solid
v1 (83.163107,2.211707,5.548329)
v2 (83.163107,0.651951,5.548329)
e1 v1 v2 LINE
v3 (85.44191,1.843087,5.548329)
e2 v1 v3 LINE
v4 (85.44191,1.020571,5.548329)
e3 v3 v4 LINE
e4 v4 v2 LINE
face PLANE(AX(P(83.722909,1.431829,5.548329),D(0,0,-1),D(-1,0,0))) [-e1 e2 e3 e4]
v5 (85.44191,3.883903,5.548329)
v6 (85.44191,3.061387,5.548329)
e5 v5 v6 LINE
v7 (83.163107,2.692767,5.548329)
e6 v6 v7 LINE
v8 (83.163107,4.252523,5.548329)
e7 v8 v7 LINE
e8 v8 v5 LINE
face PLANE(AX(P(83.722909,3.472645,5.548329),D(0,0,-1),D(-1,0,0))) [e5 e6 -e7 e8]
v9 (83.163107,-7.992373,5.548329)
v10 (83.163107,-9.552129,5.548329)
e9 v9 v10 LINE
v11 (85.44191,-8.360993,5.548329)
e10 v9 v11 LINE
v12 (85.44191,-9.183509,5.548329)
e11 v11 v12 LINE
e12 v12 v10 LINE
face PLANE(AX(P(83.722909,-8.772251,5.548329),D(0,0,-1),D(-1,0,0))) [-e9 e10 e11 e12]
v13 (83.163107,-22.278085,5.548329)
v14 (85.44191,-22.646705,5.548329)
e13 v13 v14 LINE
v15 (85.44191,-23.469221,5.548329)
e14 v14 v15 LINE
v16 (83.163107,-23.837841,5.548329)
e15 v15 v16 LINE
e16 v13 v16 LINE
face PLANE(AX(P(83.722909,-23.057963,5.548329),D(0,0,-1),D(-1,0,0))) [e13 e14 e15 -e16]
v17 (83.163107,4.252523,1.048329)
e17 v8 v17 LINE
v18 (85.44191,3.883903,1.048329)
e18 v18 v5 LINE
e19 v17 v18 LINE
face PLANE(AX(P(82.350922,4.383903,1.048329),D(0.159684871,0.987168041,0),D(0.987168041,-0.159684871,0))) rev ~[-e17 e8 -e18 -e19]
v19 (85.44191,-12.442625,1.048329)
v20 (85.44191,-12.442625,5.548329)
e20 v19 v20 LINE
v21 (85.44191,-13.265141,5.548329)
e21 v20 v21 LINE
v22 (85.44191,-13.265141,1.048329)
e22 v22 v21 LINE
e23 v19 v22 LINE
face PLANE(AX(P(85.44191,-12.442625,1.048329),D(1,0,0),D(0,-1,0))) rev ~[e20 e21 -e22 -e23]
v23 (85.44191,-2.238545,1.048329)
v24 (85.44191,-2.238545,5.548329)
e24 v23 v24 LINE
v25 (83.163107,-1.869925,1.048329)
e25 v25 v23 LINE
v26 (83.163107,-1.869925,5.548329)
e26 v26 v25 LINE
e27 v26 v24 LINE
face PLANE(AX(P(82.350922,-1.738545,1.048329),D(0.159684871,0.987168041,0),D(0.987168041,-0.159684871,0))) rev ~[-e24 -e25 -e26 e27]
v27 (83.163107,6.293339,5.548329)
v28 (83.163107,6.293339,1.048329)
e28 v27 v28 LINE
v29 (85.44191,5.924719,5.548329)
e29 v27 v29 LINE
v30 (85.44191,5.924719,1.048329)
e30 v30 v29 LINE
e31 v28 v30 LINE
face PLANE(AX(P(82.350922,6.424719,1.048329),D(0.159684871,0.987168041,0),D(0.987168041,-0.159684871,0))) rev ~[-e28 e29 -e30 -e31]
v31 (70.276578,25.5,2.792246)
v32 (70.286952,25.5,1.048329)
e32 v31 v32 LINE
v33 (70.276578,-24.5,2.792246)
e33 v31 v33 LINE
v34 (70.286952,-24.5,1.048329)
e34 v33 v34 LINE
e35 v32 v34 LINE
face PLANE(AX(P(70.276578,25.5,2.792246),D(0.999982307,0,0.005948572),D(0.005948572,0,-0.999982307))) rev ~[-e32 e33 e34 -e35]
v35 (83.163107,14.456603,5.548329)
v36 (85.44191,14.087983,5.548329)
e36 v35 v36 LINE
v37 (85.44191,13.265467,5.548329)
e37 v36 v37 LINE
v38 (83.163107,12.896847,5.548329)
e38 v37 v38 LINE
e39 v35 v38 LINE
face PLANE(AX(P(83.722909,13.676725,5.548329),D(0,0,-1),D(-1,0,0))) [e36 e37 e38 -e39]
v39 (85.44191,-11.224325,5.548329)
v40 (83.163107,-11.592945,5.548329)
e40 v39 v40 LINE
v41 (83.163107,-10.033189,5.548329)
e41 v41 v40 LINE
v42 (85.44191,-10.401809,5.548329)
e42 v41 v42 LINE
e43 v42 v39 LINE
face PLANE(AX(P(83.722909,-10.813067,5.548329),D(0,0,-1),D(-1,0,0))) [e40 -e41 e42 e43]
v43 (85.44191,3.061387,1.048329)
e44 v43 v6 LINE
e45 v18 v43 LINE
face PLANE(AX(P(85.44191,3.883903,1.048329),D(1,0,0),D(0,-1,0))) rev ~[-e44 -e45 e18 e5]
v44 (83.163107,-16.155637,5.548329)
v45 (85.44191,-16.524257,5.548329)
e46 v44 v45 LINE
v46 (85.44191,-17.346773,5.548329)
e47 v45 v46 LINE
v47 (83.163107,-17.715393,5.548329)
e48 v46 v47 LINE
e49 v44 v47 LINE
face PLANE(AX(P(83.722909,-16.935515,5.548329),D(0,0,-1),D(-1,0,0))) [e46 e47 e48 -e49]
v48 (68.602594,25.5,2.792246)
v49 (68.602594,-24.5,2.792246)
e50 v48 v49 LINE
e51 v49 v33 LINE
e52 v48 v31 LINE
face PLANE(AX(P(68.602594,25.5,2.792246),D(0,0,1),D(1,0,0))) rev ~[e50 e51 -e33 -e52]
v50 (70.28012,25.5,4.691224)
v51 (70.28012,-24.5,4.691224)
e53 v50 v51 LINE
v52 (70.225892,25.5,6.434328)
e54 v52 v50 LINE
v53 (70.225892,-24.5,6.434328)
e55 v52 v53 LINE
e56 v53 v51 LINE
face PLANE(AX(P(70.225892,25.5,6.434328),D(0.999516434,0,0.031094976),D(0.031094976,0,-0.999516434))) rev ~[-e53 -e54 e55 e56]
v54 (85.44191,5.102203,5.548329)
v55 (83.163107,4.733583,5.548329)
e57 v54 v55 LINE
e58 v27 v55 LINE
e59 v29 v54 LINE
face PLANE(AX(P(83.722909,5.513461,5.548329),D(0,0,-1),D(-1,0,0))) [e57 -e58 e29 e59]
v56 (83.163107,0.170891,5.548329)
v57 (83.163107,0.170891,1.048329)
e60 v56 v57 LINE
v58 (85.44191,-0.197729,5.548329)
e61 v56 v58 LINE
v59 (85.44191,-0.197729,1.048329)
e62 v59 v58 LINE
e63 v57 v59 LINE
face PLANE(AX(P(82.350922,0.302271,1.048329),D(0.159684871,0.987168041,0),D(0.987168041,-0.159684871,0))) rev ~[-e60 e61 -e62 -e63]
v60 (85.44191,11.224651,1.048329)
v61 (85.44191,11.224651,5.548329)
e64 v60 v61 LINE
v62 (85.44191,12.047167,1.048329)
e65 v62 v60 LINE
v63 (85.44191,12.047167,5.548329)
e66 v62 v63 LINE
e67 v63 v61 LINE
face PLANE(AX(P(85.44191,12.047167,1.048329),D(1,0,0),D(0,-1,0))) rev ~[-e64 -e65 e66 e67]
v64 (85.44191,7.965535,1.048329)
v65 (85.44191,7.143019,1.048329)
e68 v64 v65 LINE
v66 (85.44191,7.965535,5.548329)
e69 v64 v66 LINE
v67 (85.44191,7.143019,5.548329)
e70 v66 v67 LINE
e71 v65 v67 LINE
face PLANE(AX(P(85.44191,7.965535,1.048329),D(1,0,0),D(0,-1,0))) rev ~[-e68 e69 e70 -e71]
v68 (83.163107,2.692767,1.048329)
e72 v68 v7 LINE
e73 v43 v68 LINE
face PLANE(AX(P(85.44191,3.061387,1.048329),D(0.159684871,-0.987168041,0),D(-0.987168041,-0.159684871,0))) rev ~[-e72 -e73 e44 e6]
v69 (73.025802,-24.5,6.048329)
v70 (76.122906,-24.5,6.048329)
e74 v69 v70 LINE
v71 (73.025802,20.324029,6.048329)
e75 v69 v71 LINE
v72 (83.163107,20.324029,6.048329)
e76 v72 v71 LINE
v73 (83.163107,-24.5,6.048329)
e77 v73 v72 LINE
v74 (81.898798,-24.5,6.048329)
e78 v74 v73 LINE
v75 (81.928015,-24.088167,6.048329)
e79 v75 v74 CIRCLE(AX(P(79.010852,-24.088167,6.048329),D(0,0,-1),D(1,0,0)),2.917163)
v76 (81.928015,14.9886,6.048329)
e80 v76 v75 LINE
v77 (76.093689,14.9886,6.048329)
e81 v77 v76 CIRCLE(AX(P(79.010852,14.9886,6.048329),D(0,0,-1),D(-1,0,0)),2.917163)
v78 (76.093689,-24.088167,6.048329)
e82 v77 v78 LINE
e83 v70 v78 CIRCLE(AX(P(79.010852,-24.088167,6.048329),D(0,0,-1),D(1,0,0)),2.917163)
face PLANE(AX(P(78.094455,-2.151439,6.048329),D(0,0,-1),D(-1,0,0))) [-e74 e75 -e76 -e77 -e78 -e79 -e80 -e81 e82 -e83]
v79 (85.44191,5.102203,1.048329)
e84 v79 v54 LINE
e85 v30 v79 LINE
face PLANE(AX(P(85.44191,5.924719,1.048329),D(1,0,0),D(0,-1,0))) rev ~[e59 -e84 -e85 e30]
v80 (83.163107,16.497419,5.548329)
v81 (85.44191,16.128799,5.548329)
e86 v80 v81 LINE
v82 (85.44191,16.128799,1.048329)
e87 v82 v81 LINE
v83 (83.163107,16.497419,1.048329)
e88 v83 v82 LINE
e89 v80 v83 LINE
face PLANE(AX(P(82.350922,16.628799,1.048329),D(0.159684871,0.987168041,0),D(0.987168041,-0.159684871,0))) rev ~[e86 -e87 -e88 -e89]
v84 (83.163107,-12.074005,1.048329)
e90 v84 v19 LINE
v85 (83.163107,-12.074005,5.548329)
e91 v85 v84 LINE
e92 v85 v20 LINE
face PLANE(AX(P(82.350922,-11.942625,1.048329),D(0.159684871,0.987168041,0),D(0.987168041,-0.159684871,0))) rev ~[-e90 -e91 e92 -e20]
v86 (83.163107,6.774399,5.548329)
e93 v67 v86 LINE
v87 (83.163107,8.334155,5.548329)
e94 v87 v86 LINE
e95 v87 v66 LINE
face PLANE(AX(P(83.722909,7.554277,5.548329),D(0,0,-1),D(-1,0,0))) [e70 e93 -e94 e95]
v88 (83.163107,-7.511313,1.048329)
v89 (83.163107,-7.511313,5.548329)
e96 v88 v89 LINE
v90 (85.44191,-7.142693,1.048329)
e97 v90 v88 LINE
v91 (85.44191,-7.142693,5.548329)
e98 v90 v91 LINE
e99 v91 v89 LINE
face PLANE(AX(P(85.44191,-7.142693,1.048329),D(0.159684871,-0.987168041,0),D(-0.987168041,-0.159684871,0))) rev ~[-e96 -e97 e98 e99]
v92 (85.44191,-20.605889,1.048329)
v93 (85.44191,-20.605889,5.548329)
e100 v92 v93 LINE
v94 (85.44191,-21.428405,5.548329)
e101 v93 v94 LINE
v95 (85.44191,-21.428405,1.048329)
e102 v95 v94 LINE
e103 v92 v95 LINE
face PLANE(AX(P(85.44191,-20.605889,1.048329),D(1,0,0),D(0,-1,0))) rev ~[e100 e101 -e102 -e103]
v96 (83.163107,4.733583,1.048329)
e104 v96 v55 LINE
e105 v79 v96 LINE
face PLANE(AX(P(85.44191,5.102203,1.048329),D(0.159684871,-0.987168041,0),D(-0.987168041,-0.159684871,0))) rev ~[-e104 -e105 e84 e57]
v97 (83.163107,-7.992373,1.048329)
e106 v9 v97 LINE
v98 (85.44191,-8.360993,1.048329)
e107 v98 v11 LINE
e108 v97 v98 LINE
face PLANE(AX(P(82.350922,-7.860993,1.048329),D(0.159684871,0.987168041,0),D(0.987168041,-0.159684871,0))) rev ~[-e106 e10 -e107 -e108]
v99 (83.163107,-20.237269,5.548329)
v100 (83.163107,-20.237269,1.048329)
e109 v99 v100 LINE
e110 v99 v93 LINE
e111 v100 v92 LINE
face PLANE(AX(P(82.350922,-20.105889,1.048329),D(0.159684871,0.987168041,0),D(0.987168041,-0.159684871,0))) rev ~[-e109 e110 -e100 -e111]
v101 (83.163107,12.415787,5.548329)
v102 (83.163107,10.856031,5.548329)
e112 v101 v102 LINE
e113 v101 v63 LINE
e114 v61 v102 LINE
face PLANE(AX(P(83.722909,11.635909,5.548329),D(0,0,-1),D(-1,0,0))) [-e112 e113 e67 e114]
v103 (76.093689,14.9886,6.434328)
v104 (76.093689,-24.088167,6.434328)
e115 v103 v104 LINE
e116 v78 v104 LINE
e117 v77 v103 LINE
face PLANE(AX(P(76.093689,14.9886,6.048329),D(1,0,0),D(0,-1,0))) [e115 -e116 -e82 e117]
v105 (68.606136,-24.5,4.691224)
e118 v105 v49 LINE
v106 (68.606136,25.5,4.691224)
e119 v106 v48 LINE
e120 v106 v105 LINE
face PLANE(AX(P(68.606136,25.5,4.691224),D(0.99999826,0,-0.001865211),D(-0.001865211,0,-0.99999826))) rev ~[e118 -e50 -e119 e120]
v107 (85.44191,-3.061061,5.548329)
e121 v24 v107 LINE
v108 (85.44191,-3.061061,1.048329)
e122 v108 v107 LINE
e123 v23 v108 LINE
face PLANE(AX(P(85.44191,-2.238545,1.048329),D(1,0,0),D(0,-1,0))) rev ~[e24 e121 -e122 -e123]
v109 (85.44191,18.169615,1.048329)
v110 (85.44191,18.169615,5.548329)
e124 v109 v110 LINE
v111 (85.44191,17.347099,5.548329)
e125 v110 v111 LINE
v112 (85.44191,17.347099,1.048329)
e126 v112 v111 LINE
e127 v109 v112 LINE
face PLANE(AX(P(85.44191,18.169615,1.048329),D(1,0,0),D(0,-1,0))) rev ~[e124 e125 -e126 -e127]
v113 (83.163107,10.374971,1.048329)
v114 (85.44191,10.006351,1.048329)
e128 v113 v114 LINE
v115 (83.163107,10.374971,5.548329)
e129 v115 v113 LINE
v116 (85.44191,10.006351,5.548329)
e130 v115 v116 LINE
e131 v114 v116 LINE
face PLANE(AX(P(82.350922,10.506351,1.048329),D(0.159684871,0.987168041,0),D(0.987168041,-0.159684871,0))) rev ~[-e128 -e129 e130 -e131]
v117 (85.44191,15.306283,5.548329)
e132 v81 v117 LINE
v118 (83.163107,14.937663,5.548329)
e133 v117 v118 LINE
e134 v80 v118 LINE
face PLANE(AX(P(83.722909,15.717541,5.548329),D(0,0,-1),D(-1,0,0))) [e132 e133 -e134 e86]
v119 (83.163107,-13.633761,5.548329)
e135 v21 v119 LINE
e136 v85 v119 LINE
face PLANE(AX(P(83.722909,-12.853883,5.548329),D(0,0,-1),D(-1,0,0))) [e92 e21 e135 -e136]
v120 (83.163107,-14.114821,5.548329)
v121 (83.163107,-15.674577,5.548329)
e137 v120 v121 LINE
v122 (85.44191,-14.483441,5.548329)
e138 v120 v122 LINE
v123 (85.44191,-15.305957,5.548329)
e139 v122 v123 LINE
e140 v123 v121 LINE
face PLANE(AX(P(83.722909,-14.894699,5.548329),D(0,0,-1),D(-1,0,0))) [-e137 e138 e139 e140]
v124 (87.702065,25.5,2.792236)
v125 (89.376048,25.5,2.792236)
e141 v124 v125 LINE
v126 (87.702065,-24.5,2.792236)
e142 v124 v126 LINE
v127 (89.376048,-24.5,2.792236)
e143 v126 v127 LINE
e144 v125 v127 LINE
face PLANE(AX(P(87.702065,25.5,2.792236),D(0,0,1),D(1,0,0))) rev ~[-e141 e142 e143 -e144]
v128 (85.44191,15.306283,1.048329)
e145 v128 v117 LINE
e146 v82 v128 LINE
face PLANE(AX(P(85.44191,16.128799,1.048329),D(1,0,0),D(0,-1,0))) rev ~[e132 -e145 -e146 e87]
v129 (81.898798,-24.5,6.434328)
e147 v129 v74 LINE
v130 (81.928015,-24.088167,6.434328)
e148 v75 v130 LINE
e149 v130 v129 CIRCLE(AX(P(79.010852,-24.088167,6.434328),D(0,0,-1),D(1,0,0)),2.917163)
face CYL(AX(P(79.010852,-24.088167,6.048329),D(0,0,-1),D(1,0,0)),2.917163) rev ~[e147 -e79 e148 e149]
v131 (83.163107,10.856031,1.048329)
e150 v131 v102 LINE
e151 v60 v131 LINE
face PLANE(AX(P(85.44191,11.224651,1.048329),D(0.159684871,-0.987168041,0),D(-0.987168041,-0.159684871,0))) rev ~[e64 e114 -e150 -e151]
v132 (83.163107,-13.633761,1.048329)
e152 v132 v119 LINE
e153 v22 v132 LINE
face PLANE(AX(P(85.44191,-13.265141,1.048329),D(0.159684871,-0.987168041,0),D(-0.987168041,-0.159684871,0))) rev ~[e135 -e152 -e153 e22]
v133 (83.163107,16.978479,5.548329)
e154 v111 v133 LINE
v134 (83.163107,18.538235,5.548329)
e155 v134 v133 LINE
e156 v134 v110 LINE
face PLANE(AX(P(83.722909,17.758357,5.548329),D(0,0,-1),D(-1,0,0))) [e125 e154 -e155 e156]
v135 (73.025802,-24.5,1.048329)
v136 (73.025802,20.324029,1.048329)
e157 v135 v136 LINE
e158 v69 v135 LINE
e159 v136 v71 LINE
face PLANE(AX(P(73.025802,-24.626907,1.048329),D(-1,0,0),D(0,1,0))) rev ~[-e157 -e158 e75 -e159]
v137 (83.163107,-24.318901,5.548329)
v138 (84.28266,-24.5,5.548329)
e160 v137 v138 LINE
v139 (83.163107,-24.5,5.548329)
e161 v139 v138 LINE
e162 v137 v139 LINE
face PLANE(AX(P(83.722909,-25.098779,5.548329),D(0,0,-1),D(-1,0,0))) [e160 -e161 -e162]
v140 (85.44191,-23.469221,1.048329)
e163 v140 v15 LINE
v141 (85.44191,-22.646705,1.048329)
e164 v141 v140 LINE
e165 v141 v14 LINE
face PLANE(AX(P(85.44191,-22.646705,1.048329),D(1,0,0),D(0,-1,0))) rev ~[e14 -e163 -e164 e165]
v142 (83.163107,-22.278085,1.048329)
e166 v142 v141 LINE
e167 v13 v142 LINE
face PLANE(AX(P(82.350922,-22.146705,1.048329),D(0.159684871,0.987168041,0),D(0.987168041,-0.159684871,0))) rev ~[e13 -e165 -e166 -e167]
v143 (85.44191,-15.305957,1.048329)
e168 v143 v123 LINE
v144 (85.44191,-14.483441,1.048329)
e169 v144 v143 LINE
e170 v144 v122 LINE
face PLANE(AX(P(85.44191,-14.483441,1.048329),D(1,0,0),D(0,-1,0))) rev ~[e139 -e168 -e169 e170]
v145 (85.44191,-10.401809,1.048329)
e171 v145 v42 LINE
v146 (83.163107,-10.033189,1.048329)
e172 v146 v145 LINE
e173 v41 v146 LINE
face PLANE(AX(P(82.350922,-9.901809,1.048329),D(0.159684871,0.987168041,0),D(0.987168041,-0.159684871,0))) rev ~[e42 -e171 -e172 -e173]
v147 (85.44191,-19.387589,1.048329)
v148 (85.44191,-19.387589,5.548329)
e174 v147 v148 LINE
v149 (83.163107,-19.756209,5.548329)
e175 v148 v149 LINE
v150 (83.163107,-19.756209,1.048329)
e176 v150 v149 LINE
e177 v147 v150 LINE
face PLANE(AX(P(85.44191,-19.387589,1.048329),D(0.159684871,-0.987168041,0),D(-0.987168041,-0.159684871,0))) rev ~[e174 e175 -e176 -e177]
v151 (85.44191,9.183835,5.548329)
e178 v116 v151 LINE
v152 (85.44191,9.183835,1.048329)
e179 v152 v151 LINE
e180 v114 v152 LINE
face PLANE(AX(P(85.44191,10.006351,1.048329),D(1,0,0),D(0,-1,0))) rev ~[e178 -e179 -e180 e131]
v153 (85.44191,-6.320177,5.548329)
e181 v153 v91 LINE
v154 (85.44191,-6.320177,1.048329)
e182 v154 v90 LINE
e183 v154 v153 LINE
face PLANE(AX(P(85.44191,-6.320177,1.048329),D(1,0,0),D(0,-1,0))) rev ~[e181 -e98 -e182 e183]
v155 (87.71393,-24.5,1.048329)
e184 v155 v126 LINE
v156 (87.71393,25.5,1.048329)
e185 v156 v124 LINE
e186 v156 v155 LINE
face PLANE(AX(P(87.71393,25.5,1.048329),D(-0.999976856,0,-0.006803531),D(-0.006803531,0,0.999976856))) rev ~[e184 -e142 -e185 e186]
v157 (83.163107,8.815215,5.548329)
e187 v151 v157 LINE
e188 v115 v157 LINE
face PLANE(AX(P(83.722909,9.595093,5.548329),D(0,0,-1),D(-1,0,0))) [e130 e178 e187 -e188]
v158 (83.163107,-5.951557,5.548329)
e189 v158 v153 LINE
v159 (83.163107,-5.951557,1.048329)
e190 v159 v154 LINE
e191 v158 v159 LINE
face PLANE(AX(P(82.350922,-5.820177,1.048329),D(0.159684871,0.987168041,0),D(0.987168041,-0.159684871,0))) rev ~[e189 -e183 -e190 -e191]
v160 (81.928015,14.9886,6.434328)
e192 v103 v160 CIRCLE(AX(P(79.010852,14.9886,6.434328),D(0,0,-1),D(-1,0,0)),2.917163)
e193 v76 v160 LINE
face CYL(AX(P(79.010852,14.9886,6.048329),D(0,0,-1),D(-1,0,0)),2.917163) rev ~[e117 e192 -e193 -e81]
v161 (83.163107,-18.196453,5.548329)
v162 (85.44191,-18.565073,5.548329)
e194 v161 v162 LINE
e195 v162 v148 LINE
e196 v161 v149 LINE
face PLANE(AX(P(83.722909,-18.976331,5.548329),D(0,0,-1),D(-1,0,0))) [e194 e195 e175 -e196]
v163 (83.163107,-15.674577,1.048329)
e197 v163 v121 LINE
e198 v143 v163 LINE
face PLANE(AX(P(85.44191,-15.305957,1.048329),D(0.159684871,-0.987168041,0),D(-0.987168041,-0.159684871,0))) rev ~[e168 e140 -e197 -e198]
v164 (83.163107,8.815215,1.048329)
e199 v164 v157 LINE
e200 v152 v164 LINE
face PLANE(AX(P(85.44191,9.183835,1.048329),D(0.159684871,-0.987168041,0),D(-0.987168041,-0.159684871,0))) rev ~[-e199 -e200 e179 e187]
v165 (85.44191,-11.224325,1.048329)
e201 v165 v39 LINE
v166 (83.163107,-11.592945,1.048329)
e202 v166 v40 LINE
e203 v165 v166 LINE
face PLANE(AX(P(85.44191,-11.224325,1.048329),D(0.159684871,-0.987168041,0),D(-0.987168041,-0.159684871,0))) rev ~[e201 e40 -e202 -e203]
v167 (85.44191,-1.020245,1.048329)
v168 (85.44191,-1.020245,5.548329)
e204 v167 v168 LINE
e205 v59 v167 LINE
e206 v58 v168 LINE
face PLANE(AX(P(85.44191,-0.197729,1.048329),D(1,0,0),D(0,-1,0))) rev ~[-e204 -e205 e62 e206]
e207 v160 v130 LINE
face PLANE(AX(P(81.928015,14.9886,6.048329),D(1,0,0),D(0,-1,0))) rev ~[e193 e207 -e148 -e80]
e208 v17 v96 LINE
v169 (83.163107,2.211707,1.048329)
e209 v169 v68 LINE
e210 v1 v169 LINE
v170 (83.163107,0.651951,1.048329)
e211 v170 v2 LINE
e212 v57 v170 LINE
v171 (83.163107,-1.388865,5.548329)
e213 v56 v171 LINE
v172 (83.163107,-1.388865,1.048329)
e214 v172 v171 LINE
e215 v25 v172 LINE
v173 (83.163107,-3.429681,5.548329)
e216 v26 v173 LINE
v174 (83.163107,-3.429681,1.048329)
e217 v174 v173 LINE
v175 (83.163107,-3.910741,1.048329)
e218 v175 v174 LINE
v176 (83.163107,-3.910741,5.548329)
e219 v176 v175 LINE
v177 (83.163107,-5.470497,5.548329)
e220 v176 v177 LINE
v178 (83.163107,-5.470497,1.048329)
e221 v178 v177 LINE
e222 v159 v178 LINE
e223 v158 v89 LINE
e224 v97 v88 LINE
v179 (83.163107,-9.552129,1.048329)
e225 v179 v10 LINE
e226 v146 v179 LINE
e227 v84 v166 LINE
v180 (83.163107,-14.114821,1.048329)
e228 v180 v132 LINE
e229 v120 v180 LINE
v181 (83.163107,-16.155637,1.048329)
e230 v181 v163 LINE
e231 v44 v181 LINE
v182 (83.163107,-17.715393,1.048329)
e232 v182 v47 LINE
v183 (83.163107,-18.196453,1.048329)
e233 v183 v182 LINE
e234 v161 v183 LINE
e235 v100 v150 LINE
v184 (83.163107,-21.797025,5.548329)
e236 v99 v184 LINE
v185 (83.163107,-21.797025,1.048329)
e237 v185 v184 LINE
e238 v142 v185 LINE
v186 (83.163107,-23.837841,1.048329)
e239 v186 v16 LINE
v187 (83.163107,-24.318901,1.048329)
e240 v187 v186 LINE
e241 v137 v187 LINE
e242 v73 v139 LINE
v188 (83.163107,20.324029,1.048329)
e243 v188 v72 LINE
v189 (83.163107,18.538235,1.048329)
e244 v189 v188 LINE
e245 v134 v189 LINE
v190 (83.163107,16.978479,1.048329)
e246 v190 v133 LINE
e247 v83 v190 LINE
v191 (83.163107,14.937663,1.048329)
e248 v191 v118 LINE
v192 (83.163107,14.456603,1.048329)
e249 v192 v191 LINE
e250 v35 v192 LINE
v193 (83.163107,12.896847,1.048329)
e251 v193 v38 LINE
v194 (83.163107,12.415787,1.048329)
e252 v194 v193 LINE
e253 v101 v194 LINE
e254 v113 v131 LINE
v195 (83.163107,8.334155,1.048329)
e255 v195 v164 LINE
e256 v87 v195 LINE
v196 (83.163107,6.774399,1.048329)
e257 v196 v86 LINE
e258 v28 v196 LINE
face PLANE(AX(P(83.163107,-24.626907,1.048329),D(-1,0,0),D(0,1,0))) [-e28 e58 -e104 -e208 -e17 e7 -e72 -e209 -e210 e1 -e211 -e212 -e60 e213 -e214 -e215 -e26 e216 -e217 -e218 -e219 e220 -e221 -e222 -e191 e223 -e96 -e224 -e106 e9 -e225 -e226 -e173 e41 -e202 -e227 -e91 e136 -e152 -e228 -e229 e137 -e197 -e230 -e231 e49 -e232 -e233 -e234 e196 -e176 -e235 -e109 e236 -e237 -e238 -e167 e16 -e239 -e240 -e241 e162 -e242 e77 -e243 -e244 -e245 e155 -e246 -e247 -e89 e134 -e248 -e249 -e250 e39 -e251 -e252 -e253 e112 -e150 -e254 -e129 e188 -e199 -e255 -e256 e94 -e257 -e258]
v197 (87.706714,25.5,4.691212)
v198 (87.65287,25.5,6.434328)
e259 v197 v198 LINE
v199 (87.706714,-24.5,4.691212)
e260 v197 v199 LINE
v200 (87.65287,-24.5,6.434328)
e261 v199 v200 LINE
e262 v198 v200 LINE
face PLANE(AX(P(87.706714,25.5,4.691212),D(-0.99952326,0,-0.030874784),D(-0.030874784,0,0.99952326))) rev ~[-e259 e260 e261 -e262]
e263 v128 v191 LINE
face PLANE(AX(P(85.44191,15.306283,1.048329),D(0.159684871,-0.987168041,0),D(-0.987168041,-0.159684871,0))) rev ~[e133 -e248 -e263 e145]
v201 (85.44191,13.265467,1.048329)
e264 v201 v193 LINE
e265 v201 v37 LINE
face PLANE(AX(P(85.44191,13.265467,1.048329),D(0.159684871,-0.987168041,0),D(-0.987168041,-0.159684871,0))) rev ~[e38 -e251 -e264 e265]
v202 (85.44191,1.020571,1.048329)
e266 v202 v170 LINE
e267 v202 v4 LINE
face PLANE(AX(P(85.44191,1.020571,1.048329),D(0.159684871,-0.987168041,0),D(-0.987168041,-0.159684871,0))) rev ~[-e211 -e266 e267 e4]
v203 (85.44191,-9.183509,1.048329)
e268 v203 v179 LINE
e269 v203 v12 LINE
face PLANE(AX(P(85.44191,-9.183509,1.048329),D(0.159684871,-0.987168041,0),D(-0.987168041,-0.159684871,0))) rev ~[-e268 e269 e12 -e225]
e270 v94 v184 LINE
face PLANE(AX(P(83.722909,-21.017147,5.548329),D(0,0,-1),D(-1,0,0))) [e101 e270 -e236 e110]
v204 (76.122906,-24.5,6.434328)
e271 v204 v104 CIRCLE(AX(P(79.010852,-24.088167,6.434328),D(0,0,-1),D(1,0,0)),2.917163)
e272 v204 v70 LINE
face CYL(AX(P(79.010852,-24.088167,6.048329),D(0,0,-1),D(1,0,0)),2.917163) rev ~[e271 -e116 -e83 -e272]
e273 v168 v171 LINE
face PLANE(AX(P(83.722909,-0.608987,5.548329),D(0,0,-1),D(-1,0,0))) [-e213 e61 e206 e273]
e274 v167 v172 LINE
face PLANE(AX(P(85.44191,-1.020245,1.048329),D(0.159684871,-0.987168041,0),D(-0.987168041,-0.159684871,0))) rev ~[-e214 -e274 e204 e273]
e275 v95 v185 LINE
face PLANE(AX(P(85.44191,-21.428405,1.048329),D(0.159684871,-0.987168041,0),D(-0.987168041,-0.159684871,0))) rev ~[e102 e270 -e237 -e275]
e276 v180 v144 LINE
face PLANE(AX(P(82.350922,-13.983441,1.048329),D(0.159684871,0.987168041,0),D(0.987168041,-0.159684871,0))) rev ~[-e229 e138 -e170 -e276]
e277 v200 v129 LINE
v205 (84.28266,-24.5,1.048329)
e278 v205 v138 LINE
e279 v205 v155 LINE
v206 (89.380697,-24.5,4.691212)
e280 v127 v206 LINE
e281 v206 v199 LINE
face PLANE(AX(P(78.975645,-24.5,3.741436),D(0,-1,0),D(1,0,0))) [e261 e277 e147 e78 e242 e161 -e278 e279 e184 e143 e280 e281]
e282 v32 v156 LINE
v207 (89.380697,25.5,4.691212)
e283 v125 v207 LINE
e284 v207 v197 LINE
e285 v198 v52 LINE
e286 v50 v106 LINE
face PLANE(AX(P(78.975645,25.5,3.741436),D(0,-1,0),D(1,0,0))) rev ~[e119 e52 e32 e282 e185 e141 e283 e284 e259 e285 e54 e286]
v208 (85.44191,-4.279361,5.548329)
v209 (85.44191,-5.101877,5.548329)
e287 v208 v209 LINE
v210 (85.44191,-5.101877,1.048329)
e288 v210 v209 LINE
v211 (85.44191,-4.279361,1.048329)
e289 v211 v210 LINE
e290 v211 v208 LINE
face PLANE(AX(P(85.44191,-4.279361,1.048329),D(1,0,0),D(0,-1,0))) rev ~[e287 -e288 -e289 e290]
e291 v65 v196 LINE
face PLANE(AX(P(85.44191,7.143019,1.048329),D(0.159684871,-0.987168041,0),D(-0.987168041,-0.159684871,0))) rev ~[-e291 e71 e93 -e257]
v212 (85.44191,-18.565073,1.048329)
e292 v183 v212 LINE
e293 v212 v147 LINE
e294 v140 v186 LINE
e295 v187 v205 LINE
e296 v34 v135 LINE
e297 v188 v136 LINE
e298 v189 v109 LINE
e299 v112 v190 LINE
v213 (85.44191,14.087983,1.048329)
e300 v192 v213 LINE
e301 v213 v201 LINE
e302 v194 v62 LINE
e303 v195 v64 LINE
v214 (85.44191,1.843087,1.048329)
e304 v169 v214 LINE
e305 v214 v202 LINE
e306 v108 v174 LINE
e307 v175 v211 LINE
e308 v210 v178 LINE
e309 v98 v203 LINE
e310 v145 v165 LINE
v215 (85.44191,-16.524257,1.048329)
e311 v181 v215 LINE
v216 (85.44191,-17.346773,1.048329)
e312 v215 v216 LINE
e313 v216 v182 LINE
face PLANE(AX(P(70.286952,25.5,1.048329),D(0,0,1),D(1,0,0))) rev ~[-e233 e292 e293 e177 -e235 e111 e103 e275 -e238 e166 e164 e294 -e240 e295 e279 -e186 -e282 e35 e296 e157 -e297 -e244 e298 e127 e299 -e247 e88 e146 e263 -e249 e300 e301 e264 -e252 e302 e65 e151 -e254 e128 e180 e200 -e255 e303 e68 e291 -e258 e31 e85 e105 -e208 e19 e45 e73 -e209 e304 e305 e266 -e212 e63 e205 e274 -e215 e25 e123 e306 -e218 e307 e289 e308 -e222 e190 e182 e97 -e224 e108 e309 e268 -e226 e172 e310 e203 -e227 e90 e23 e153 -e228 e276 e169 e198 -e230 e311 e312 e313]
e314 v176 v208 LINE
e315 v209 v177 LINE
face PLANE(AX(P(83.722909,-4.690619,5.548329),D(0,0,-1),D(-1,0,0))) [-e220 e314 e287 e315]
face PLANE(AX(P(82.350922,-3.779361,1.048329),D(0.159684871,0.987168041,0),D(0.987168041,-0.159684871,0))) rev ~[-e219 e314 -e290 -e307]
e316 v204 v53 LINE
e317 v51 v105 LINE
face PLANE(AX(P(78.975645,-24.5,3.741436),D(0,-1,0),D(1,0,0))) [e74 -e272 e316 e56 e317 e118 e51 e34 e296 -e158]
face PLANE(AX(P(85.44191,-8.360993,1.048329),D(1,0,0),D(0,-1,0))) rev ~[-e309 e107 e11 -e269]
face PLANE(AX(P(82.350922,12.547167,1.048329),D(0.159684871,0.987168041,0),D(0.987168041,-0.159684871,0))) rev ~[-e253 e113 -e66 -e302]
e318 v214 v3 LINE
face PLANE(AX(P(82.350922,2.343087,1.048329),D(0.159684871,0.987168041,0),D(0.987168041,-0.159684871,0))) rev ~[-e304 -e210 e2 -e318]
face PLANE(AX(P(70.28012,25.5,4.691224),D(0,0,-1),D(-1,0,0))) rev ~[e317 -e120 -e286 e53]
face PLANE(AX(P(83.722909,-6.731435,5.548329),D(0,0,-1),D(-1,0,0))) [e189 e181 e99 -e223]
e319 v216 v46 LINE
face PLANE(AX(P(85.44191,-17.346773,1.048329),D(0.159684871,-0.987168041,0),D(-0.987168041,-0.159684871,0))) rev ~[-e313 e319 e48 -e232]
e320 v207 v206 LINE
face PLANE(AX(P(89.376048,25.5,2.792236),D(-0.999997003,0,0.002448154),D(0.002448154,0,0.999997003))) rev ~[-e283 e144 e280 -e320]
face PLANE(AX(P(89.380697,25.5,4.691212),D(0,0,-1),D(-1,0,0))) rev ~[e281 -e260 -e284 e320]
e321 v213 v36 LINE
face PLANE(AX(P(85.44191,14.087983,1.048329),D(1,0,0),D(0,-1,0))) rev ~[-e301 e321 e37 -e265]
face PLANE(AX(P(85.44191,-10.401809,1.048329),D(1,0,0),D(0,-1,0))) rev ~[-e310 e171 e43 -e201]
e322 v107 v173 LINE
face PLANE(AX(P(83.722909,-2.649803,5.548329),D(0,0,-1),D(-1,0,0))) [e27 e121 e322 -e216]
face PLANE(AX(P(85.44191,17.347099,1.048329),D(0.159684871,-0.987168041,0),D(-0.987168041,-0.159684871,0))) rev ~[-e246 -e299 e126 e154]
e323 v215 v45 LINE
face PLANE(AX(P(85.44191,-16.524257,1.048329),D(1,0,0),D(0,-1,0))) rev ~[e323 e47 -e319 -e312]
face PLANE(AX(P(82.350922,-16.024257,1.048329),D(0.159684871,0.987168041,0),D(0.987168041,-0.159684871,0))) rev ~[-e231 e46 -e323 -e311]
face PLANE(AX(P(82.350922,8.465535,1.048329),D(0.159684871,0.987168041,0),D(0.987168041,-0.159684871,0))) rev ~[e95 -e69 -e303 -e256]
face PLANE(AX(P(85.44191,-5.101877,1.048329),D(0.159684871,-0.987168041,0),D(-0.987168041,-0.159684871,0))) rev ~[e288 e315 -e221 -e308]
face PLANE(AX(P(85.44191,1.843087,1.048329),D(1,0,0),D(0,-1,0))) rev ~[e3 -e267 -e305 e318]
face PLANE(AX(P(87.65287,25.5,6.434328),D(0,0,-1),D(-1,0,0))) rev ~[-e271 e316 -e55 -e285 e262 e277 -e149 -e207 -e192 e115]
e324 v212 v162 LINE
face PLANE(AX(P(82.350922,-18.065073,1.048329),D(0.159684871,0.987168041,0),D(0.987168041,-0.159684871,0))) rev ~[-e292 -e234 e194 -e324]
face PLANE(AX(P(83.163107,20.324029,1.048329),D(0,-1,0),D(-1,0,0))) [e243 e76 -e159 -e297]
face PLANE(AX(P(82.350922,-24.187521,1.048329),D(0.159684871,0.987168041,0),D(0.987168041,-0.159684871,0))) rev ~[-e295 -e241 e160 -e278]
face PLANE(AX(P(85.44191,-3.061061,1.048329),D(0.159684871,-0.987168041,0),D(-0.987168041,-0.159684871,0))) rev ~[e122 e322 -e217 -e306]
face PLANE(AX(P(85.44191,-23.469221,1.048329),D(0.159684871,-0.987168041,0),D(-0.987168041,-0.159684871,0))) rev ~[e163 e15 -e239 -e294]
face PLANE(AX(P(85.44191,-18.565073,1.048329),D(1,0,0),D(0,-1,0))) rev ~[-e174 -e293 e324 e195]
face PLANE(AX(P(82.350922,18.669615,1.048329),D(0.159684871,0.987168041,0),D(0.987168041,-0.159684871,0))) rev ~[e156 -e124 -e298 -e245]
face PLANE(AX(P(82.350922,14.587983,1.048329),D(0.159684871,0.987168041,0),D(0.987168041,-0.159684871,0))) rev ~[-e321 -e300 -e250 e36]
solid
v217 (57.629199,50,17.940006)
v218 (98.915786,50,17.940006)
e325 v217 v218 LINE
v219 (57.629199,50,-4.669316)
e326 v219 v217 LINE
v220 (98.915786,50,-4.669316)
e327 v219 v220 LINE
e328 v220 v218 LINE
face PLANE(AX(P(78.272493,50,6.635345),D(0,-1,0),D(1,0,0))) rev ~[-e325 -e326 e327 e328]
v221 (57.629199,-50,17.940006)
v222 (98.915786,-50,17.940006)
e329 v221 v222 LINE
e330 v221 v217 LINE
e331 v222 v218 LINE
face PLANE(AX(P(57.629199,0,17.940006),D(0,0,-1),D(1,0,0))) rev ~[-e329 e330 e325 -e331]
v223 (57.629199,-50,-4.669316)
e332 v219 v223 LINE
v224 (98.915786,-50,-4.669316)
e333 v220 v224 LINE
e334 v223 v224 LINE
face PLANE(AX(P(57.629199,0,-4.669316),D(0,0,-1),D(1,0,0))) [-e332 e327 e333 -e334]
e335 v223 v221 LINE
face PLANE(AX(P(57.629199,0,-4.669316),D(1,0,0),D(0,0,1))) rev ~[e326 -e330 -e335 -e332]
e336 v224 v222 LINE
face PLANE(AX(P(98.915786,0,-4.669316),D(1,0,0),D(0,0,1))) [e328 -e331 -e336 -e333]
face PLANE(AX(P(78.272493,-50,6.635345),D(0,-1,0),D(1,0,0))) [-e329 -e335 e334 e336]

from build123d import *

# Parameters (mm, degrees)
SKETCH011_W         = 41.286587
SKETCH011_H         = 22.609322
PAD004_DEPTH        = 50
PAD003_DEPTH        = 50
SKETCH009_W         = 10.137305
SKETCH009_H         = 44.950935
POCKET005_DEPTH     = 5
POCKET006_DEPTH     = 0.386998
POCKET007_DEPTH     = 4.5
LINEARPATTERN_COUNT = 50
LINEARPATTERN_PITCH = 2.040816


with BuildPart() as scatolozzo_selezione_prototipi:
    # Sketch011 → Pad004 (new body, symmetric)
    with BuildSketch(Plane.XZ):
        with Locations((78.272493, 6.635345)):
            Rectangle(SKETCH011_W, SKETCH011_H)
    extrude(amount=PAD004_DEPTH, both=True)


with BuildPart() as pezzo_scorrevole_denti:
    # Sketch008 → Pad003 (new body)
    with BuildSketch(Plane(origin=(0, 25.5, 0), x_dir=(-1, 0, 0), z_dir=(0, 1, 0))):
        Polygon((-87.702065, 2.792236), (-89.376048, 2.792236), (-89.380697, 4.691212), (-87.706714, 4.691212), (-87.65287, 6.434328), (-70.225892, 6.434328), (-70.28012, 4.691224), (-68.606136, 4.691224), (-68.602594, 2.792246), (-70.276578, 2.792246), (-70.286952, 1.048329), (-87.71393, 1.048329), align=None)
    extrude(amount=-PAD003_DEPTH)

    # Sketch009 → Pocket005 (cut)
    with BuildSketch(Plane(origin=(0, 25.5, 1.048329), x_dir=(-1, 0, 0), z_dir=(0, 0, -1))):
        with Locations((-78.094455, -27.651439)):
            Rectangle(SKETCH009_W, SKETCH009_H)
    extrude(amount=-POCKET005_DEPTH, mode=Mode.SUBTRACT)

    # Sketch010 → Pocket006 (cut, through all)
    with BuildSketch(Plane(origin=(0, 25.5, 6.048329), x_dir=(-1, 0, 0), z_dir=(0, 0, -1))):
        with BuildLine():
            ThreePointArc((-76.093689, -10.5114), (-79.010852, -7.594237), (-81.928015, -10.5114))
            Line((-81.928015, -10.5114), (-81.928015, -49.588167))
            ThreePointArc((-81.928015, -49.588167), (-79.010852, -52.50533), (-76.093689, -49.588167))
            Line((-76.093689, -10.5114), (-76.093689, -49.588167))
        make_face()
    extrude(amount=-POCKET006_DEPTH, mode=Mode.SUBTRACT)

    # Sketch012 → Pocket007 (cut)
    with BuildSketch(Plane(origin=(0, 25.5, 1.048329), x_dir=(-1, 0, 0), z_dir=(0, 0, -1))):
        Polygon((-85.44191, -7.330385), (-85.44191, -8.152901), (-82.350922, -8.652901), (-82.350922, -6.830385), align=None)
    pocket007 = extrude(amount=-POCKET007_DEPTH, mode=Mode.SUBTRACT)

    # LinearPattern: Pocket007 ×50
    with Locations(*[(0, -i * LINEARPATTERN_PITCH, 0) for i in range(1, LINEARPATTERN_COUNT)]):
        add(pocket007, mode=Mode.SUBTRACT)


solid = Compound([scatolozzo_selezione_prototipi.part, pezzo_scorrevole_denti.part])
